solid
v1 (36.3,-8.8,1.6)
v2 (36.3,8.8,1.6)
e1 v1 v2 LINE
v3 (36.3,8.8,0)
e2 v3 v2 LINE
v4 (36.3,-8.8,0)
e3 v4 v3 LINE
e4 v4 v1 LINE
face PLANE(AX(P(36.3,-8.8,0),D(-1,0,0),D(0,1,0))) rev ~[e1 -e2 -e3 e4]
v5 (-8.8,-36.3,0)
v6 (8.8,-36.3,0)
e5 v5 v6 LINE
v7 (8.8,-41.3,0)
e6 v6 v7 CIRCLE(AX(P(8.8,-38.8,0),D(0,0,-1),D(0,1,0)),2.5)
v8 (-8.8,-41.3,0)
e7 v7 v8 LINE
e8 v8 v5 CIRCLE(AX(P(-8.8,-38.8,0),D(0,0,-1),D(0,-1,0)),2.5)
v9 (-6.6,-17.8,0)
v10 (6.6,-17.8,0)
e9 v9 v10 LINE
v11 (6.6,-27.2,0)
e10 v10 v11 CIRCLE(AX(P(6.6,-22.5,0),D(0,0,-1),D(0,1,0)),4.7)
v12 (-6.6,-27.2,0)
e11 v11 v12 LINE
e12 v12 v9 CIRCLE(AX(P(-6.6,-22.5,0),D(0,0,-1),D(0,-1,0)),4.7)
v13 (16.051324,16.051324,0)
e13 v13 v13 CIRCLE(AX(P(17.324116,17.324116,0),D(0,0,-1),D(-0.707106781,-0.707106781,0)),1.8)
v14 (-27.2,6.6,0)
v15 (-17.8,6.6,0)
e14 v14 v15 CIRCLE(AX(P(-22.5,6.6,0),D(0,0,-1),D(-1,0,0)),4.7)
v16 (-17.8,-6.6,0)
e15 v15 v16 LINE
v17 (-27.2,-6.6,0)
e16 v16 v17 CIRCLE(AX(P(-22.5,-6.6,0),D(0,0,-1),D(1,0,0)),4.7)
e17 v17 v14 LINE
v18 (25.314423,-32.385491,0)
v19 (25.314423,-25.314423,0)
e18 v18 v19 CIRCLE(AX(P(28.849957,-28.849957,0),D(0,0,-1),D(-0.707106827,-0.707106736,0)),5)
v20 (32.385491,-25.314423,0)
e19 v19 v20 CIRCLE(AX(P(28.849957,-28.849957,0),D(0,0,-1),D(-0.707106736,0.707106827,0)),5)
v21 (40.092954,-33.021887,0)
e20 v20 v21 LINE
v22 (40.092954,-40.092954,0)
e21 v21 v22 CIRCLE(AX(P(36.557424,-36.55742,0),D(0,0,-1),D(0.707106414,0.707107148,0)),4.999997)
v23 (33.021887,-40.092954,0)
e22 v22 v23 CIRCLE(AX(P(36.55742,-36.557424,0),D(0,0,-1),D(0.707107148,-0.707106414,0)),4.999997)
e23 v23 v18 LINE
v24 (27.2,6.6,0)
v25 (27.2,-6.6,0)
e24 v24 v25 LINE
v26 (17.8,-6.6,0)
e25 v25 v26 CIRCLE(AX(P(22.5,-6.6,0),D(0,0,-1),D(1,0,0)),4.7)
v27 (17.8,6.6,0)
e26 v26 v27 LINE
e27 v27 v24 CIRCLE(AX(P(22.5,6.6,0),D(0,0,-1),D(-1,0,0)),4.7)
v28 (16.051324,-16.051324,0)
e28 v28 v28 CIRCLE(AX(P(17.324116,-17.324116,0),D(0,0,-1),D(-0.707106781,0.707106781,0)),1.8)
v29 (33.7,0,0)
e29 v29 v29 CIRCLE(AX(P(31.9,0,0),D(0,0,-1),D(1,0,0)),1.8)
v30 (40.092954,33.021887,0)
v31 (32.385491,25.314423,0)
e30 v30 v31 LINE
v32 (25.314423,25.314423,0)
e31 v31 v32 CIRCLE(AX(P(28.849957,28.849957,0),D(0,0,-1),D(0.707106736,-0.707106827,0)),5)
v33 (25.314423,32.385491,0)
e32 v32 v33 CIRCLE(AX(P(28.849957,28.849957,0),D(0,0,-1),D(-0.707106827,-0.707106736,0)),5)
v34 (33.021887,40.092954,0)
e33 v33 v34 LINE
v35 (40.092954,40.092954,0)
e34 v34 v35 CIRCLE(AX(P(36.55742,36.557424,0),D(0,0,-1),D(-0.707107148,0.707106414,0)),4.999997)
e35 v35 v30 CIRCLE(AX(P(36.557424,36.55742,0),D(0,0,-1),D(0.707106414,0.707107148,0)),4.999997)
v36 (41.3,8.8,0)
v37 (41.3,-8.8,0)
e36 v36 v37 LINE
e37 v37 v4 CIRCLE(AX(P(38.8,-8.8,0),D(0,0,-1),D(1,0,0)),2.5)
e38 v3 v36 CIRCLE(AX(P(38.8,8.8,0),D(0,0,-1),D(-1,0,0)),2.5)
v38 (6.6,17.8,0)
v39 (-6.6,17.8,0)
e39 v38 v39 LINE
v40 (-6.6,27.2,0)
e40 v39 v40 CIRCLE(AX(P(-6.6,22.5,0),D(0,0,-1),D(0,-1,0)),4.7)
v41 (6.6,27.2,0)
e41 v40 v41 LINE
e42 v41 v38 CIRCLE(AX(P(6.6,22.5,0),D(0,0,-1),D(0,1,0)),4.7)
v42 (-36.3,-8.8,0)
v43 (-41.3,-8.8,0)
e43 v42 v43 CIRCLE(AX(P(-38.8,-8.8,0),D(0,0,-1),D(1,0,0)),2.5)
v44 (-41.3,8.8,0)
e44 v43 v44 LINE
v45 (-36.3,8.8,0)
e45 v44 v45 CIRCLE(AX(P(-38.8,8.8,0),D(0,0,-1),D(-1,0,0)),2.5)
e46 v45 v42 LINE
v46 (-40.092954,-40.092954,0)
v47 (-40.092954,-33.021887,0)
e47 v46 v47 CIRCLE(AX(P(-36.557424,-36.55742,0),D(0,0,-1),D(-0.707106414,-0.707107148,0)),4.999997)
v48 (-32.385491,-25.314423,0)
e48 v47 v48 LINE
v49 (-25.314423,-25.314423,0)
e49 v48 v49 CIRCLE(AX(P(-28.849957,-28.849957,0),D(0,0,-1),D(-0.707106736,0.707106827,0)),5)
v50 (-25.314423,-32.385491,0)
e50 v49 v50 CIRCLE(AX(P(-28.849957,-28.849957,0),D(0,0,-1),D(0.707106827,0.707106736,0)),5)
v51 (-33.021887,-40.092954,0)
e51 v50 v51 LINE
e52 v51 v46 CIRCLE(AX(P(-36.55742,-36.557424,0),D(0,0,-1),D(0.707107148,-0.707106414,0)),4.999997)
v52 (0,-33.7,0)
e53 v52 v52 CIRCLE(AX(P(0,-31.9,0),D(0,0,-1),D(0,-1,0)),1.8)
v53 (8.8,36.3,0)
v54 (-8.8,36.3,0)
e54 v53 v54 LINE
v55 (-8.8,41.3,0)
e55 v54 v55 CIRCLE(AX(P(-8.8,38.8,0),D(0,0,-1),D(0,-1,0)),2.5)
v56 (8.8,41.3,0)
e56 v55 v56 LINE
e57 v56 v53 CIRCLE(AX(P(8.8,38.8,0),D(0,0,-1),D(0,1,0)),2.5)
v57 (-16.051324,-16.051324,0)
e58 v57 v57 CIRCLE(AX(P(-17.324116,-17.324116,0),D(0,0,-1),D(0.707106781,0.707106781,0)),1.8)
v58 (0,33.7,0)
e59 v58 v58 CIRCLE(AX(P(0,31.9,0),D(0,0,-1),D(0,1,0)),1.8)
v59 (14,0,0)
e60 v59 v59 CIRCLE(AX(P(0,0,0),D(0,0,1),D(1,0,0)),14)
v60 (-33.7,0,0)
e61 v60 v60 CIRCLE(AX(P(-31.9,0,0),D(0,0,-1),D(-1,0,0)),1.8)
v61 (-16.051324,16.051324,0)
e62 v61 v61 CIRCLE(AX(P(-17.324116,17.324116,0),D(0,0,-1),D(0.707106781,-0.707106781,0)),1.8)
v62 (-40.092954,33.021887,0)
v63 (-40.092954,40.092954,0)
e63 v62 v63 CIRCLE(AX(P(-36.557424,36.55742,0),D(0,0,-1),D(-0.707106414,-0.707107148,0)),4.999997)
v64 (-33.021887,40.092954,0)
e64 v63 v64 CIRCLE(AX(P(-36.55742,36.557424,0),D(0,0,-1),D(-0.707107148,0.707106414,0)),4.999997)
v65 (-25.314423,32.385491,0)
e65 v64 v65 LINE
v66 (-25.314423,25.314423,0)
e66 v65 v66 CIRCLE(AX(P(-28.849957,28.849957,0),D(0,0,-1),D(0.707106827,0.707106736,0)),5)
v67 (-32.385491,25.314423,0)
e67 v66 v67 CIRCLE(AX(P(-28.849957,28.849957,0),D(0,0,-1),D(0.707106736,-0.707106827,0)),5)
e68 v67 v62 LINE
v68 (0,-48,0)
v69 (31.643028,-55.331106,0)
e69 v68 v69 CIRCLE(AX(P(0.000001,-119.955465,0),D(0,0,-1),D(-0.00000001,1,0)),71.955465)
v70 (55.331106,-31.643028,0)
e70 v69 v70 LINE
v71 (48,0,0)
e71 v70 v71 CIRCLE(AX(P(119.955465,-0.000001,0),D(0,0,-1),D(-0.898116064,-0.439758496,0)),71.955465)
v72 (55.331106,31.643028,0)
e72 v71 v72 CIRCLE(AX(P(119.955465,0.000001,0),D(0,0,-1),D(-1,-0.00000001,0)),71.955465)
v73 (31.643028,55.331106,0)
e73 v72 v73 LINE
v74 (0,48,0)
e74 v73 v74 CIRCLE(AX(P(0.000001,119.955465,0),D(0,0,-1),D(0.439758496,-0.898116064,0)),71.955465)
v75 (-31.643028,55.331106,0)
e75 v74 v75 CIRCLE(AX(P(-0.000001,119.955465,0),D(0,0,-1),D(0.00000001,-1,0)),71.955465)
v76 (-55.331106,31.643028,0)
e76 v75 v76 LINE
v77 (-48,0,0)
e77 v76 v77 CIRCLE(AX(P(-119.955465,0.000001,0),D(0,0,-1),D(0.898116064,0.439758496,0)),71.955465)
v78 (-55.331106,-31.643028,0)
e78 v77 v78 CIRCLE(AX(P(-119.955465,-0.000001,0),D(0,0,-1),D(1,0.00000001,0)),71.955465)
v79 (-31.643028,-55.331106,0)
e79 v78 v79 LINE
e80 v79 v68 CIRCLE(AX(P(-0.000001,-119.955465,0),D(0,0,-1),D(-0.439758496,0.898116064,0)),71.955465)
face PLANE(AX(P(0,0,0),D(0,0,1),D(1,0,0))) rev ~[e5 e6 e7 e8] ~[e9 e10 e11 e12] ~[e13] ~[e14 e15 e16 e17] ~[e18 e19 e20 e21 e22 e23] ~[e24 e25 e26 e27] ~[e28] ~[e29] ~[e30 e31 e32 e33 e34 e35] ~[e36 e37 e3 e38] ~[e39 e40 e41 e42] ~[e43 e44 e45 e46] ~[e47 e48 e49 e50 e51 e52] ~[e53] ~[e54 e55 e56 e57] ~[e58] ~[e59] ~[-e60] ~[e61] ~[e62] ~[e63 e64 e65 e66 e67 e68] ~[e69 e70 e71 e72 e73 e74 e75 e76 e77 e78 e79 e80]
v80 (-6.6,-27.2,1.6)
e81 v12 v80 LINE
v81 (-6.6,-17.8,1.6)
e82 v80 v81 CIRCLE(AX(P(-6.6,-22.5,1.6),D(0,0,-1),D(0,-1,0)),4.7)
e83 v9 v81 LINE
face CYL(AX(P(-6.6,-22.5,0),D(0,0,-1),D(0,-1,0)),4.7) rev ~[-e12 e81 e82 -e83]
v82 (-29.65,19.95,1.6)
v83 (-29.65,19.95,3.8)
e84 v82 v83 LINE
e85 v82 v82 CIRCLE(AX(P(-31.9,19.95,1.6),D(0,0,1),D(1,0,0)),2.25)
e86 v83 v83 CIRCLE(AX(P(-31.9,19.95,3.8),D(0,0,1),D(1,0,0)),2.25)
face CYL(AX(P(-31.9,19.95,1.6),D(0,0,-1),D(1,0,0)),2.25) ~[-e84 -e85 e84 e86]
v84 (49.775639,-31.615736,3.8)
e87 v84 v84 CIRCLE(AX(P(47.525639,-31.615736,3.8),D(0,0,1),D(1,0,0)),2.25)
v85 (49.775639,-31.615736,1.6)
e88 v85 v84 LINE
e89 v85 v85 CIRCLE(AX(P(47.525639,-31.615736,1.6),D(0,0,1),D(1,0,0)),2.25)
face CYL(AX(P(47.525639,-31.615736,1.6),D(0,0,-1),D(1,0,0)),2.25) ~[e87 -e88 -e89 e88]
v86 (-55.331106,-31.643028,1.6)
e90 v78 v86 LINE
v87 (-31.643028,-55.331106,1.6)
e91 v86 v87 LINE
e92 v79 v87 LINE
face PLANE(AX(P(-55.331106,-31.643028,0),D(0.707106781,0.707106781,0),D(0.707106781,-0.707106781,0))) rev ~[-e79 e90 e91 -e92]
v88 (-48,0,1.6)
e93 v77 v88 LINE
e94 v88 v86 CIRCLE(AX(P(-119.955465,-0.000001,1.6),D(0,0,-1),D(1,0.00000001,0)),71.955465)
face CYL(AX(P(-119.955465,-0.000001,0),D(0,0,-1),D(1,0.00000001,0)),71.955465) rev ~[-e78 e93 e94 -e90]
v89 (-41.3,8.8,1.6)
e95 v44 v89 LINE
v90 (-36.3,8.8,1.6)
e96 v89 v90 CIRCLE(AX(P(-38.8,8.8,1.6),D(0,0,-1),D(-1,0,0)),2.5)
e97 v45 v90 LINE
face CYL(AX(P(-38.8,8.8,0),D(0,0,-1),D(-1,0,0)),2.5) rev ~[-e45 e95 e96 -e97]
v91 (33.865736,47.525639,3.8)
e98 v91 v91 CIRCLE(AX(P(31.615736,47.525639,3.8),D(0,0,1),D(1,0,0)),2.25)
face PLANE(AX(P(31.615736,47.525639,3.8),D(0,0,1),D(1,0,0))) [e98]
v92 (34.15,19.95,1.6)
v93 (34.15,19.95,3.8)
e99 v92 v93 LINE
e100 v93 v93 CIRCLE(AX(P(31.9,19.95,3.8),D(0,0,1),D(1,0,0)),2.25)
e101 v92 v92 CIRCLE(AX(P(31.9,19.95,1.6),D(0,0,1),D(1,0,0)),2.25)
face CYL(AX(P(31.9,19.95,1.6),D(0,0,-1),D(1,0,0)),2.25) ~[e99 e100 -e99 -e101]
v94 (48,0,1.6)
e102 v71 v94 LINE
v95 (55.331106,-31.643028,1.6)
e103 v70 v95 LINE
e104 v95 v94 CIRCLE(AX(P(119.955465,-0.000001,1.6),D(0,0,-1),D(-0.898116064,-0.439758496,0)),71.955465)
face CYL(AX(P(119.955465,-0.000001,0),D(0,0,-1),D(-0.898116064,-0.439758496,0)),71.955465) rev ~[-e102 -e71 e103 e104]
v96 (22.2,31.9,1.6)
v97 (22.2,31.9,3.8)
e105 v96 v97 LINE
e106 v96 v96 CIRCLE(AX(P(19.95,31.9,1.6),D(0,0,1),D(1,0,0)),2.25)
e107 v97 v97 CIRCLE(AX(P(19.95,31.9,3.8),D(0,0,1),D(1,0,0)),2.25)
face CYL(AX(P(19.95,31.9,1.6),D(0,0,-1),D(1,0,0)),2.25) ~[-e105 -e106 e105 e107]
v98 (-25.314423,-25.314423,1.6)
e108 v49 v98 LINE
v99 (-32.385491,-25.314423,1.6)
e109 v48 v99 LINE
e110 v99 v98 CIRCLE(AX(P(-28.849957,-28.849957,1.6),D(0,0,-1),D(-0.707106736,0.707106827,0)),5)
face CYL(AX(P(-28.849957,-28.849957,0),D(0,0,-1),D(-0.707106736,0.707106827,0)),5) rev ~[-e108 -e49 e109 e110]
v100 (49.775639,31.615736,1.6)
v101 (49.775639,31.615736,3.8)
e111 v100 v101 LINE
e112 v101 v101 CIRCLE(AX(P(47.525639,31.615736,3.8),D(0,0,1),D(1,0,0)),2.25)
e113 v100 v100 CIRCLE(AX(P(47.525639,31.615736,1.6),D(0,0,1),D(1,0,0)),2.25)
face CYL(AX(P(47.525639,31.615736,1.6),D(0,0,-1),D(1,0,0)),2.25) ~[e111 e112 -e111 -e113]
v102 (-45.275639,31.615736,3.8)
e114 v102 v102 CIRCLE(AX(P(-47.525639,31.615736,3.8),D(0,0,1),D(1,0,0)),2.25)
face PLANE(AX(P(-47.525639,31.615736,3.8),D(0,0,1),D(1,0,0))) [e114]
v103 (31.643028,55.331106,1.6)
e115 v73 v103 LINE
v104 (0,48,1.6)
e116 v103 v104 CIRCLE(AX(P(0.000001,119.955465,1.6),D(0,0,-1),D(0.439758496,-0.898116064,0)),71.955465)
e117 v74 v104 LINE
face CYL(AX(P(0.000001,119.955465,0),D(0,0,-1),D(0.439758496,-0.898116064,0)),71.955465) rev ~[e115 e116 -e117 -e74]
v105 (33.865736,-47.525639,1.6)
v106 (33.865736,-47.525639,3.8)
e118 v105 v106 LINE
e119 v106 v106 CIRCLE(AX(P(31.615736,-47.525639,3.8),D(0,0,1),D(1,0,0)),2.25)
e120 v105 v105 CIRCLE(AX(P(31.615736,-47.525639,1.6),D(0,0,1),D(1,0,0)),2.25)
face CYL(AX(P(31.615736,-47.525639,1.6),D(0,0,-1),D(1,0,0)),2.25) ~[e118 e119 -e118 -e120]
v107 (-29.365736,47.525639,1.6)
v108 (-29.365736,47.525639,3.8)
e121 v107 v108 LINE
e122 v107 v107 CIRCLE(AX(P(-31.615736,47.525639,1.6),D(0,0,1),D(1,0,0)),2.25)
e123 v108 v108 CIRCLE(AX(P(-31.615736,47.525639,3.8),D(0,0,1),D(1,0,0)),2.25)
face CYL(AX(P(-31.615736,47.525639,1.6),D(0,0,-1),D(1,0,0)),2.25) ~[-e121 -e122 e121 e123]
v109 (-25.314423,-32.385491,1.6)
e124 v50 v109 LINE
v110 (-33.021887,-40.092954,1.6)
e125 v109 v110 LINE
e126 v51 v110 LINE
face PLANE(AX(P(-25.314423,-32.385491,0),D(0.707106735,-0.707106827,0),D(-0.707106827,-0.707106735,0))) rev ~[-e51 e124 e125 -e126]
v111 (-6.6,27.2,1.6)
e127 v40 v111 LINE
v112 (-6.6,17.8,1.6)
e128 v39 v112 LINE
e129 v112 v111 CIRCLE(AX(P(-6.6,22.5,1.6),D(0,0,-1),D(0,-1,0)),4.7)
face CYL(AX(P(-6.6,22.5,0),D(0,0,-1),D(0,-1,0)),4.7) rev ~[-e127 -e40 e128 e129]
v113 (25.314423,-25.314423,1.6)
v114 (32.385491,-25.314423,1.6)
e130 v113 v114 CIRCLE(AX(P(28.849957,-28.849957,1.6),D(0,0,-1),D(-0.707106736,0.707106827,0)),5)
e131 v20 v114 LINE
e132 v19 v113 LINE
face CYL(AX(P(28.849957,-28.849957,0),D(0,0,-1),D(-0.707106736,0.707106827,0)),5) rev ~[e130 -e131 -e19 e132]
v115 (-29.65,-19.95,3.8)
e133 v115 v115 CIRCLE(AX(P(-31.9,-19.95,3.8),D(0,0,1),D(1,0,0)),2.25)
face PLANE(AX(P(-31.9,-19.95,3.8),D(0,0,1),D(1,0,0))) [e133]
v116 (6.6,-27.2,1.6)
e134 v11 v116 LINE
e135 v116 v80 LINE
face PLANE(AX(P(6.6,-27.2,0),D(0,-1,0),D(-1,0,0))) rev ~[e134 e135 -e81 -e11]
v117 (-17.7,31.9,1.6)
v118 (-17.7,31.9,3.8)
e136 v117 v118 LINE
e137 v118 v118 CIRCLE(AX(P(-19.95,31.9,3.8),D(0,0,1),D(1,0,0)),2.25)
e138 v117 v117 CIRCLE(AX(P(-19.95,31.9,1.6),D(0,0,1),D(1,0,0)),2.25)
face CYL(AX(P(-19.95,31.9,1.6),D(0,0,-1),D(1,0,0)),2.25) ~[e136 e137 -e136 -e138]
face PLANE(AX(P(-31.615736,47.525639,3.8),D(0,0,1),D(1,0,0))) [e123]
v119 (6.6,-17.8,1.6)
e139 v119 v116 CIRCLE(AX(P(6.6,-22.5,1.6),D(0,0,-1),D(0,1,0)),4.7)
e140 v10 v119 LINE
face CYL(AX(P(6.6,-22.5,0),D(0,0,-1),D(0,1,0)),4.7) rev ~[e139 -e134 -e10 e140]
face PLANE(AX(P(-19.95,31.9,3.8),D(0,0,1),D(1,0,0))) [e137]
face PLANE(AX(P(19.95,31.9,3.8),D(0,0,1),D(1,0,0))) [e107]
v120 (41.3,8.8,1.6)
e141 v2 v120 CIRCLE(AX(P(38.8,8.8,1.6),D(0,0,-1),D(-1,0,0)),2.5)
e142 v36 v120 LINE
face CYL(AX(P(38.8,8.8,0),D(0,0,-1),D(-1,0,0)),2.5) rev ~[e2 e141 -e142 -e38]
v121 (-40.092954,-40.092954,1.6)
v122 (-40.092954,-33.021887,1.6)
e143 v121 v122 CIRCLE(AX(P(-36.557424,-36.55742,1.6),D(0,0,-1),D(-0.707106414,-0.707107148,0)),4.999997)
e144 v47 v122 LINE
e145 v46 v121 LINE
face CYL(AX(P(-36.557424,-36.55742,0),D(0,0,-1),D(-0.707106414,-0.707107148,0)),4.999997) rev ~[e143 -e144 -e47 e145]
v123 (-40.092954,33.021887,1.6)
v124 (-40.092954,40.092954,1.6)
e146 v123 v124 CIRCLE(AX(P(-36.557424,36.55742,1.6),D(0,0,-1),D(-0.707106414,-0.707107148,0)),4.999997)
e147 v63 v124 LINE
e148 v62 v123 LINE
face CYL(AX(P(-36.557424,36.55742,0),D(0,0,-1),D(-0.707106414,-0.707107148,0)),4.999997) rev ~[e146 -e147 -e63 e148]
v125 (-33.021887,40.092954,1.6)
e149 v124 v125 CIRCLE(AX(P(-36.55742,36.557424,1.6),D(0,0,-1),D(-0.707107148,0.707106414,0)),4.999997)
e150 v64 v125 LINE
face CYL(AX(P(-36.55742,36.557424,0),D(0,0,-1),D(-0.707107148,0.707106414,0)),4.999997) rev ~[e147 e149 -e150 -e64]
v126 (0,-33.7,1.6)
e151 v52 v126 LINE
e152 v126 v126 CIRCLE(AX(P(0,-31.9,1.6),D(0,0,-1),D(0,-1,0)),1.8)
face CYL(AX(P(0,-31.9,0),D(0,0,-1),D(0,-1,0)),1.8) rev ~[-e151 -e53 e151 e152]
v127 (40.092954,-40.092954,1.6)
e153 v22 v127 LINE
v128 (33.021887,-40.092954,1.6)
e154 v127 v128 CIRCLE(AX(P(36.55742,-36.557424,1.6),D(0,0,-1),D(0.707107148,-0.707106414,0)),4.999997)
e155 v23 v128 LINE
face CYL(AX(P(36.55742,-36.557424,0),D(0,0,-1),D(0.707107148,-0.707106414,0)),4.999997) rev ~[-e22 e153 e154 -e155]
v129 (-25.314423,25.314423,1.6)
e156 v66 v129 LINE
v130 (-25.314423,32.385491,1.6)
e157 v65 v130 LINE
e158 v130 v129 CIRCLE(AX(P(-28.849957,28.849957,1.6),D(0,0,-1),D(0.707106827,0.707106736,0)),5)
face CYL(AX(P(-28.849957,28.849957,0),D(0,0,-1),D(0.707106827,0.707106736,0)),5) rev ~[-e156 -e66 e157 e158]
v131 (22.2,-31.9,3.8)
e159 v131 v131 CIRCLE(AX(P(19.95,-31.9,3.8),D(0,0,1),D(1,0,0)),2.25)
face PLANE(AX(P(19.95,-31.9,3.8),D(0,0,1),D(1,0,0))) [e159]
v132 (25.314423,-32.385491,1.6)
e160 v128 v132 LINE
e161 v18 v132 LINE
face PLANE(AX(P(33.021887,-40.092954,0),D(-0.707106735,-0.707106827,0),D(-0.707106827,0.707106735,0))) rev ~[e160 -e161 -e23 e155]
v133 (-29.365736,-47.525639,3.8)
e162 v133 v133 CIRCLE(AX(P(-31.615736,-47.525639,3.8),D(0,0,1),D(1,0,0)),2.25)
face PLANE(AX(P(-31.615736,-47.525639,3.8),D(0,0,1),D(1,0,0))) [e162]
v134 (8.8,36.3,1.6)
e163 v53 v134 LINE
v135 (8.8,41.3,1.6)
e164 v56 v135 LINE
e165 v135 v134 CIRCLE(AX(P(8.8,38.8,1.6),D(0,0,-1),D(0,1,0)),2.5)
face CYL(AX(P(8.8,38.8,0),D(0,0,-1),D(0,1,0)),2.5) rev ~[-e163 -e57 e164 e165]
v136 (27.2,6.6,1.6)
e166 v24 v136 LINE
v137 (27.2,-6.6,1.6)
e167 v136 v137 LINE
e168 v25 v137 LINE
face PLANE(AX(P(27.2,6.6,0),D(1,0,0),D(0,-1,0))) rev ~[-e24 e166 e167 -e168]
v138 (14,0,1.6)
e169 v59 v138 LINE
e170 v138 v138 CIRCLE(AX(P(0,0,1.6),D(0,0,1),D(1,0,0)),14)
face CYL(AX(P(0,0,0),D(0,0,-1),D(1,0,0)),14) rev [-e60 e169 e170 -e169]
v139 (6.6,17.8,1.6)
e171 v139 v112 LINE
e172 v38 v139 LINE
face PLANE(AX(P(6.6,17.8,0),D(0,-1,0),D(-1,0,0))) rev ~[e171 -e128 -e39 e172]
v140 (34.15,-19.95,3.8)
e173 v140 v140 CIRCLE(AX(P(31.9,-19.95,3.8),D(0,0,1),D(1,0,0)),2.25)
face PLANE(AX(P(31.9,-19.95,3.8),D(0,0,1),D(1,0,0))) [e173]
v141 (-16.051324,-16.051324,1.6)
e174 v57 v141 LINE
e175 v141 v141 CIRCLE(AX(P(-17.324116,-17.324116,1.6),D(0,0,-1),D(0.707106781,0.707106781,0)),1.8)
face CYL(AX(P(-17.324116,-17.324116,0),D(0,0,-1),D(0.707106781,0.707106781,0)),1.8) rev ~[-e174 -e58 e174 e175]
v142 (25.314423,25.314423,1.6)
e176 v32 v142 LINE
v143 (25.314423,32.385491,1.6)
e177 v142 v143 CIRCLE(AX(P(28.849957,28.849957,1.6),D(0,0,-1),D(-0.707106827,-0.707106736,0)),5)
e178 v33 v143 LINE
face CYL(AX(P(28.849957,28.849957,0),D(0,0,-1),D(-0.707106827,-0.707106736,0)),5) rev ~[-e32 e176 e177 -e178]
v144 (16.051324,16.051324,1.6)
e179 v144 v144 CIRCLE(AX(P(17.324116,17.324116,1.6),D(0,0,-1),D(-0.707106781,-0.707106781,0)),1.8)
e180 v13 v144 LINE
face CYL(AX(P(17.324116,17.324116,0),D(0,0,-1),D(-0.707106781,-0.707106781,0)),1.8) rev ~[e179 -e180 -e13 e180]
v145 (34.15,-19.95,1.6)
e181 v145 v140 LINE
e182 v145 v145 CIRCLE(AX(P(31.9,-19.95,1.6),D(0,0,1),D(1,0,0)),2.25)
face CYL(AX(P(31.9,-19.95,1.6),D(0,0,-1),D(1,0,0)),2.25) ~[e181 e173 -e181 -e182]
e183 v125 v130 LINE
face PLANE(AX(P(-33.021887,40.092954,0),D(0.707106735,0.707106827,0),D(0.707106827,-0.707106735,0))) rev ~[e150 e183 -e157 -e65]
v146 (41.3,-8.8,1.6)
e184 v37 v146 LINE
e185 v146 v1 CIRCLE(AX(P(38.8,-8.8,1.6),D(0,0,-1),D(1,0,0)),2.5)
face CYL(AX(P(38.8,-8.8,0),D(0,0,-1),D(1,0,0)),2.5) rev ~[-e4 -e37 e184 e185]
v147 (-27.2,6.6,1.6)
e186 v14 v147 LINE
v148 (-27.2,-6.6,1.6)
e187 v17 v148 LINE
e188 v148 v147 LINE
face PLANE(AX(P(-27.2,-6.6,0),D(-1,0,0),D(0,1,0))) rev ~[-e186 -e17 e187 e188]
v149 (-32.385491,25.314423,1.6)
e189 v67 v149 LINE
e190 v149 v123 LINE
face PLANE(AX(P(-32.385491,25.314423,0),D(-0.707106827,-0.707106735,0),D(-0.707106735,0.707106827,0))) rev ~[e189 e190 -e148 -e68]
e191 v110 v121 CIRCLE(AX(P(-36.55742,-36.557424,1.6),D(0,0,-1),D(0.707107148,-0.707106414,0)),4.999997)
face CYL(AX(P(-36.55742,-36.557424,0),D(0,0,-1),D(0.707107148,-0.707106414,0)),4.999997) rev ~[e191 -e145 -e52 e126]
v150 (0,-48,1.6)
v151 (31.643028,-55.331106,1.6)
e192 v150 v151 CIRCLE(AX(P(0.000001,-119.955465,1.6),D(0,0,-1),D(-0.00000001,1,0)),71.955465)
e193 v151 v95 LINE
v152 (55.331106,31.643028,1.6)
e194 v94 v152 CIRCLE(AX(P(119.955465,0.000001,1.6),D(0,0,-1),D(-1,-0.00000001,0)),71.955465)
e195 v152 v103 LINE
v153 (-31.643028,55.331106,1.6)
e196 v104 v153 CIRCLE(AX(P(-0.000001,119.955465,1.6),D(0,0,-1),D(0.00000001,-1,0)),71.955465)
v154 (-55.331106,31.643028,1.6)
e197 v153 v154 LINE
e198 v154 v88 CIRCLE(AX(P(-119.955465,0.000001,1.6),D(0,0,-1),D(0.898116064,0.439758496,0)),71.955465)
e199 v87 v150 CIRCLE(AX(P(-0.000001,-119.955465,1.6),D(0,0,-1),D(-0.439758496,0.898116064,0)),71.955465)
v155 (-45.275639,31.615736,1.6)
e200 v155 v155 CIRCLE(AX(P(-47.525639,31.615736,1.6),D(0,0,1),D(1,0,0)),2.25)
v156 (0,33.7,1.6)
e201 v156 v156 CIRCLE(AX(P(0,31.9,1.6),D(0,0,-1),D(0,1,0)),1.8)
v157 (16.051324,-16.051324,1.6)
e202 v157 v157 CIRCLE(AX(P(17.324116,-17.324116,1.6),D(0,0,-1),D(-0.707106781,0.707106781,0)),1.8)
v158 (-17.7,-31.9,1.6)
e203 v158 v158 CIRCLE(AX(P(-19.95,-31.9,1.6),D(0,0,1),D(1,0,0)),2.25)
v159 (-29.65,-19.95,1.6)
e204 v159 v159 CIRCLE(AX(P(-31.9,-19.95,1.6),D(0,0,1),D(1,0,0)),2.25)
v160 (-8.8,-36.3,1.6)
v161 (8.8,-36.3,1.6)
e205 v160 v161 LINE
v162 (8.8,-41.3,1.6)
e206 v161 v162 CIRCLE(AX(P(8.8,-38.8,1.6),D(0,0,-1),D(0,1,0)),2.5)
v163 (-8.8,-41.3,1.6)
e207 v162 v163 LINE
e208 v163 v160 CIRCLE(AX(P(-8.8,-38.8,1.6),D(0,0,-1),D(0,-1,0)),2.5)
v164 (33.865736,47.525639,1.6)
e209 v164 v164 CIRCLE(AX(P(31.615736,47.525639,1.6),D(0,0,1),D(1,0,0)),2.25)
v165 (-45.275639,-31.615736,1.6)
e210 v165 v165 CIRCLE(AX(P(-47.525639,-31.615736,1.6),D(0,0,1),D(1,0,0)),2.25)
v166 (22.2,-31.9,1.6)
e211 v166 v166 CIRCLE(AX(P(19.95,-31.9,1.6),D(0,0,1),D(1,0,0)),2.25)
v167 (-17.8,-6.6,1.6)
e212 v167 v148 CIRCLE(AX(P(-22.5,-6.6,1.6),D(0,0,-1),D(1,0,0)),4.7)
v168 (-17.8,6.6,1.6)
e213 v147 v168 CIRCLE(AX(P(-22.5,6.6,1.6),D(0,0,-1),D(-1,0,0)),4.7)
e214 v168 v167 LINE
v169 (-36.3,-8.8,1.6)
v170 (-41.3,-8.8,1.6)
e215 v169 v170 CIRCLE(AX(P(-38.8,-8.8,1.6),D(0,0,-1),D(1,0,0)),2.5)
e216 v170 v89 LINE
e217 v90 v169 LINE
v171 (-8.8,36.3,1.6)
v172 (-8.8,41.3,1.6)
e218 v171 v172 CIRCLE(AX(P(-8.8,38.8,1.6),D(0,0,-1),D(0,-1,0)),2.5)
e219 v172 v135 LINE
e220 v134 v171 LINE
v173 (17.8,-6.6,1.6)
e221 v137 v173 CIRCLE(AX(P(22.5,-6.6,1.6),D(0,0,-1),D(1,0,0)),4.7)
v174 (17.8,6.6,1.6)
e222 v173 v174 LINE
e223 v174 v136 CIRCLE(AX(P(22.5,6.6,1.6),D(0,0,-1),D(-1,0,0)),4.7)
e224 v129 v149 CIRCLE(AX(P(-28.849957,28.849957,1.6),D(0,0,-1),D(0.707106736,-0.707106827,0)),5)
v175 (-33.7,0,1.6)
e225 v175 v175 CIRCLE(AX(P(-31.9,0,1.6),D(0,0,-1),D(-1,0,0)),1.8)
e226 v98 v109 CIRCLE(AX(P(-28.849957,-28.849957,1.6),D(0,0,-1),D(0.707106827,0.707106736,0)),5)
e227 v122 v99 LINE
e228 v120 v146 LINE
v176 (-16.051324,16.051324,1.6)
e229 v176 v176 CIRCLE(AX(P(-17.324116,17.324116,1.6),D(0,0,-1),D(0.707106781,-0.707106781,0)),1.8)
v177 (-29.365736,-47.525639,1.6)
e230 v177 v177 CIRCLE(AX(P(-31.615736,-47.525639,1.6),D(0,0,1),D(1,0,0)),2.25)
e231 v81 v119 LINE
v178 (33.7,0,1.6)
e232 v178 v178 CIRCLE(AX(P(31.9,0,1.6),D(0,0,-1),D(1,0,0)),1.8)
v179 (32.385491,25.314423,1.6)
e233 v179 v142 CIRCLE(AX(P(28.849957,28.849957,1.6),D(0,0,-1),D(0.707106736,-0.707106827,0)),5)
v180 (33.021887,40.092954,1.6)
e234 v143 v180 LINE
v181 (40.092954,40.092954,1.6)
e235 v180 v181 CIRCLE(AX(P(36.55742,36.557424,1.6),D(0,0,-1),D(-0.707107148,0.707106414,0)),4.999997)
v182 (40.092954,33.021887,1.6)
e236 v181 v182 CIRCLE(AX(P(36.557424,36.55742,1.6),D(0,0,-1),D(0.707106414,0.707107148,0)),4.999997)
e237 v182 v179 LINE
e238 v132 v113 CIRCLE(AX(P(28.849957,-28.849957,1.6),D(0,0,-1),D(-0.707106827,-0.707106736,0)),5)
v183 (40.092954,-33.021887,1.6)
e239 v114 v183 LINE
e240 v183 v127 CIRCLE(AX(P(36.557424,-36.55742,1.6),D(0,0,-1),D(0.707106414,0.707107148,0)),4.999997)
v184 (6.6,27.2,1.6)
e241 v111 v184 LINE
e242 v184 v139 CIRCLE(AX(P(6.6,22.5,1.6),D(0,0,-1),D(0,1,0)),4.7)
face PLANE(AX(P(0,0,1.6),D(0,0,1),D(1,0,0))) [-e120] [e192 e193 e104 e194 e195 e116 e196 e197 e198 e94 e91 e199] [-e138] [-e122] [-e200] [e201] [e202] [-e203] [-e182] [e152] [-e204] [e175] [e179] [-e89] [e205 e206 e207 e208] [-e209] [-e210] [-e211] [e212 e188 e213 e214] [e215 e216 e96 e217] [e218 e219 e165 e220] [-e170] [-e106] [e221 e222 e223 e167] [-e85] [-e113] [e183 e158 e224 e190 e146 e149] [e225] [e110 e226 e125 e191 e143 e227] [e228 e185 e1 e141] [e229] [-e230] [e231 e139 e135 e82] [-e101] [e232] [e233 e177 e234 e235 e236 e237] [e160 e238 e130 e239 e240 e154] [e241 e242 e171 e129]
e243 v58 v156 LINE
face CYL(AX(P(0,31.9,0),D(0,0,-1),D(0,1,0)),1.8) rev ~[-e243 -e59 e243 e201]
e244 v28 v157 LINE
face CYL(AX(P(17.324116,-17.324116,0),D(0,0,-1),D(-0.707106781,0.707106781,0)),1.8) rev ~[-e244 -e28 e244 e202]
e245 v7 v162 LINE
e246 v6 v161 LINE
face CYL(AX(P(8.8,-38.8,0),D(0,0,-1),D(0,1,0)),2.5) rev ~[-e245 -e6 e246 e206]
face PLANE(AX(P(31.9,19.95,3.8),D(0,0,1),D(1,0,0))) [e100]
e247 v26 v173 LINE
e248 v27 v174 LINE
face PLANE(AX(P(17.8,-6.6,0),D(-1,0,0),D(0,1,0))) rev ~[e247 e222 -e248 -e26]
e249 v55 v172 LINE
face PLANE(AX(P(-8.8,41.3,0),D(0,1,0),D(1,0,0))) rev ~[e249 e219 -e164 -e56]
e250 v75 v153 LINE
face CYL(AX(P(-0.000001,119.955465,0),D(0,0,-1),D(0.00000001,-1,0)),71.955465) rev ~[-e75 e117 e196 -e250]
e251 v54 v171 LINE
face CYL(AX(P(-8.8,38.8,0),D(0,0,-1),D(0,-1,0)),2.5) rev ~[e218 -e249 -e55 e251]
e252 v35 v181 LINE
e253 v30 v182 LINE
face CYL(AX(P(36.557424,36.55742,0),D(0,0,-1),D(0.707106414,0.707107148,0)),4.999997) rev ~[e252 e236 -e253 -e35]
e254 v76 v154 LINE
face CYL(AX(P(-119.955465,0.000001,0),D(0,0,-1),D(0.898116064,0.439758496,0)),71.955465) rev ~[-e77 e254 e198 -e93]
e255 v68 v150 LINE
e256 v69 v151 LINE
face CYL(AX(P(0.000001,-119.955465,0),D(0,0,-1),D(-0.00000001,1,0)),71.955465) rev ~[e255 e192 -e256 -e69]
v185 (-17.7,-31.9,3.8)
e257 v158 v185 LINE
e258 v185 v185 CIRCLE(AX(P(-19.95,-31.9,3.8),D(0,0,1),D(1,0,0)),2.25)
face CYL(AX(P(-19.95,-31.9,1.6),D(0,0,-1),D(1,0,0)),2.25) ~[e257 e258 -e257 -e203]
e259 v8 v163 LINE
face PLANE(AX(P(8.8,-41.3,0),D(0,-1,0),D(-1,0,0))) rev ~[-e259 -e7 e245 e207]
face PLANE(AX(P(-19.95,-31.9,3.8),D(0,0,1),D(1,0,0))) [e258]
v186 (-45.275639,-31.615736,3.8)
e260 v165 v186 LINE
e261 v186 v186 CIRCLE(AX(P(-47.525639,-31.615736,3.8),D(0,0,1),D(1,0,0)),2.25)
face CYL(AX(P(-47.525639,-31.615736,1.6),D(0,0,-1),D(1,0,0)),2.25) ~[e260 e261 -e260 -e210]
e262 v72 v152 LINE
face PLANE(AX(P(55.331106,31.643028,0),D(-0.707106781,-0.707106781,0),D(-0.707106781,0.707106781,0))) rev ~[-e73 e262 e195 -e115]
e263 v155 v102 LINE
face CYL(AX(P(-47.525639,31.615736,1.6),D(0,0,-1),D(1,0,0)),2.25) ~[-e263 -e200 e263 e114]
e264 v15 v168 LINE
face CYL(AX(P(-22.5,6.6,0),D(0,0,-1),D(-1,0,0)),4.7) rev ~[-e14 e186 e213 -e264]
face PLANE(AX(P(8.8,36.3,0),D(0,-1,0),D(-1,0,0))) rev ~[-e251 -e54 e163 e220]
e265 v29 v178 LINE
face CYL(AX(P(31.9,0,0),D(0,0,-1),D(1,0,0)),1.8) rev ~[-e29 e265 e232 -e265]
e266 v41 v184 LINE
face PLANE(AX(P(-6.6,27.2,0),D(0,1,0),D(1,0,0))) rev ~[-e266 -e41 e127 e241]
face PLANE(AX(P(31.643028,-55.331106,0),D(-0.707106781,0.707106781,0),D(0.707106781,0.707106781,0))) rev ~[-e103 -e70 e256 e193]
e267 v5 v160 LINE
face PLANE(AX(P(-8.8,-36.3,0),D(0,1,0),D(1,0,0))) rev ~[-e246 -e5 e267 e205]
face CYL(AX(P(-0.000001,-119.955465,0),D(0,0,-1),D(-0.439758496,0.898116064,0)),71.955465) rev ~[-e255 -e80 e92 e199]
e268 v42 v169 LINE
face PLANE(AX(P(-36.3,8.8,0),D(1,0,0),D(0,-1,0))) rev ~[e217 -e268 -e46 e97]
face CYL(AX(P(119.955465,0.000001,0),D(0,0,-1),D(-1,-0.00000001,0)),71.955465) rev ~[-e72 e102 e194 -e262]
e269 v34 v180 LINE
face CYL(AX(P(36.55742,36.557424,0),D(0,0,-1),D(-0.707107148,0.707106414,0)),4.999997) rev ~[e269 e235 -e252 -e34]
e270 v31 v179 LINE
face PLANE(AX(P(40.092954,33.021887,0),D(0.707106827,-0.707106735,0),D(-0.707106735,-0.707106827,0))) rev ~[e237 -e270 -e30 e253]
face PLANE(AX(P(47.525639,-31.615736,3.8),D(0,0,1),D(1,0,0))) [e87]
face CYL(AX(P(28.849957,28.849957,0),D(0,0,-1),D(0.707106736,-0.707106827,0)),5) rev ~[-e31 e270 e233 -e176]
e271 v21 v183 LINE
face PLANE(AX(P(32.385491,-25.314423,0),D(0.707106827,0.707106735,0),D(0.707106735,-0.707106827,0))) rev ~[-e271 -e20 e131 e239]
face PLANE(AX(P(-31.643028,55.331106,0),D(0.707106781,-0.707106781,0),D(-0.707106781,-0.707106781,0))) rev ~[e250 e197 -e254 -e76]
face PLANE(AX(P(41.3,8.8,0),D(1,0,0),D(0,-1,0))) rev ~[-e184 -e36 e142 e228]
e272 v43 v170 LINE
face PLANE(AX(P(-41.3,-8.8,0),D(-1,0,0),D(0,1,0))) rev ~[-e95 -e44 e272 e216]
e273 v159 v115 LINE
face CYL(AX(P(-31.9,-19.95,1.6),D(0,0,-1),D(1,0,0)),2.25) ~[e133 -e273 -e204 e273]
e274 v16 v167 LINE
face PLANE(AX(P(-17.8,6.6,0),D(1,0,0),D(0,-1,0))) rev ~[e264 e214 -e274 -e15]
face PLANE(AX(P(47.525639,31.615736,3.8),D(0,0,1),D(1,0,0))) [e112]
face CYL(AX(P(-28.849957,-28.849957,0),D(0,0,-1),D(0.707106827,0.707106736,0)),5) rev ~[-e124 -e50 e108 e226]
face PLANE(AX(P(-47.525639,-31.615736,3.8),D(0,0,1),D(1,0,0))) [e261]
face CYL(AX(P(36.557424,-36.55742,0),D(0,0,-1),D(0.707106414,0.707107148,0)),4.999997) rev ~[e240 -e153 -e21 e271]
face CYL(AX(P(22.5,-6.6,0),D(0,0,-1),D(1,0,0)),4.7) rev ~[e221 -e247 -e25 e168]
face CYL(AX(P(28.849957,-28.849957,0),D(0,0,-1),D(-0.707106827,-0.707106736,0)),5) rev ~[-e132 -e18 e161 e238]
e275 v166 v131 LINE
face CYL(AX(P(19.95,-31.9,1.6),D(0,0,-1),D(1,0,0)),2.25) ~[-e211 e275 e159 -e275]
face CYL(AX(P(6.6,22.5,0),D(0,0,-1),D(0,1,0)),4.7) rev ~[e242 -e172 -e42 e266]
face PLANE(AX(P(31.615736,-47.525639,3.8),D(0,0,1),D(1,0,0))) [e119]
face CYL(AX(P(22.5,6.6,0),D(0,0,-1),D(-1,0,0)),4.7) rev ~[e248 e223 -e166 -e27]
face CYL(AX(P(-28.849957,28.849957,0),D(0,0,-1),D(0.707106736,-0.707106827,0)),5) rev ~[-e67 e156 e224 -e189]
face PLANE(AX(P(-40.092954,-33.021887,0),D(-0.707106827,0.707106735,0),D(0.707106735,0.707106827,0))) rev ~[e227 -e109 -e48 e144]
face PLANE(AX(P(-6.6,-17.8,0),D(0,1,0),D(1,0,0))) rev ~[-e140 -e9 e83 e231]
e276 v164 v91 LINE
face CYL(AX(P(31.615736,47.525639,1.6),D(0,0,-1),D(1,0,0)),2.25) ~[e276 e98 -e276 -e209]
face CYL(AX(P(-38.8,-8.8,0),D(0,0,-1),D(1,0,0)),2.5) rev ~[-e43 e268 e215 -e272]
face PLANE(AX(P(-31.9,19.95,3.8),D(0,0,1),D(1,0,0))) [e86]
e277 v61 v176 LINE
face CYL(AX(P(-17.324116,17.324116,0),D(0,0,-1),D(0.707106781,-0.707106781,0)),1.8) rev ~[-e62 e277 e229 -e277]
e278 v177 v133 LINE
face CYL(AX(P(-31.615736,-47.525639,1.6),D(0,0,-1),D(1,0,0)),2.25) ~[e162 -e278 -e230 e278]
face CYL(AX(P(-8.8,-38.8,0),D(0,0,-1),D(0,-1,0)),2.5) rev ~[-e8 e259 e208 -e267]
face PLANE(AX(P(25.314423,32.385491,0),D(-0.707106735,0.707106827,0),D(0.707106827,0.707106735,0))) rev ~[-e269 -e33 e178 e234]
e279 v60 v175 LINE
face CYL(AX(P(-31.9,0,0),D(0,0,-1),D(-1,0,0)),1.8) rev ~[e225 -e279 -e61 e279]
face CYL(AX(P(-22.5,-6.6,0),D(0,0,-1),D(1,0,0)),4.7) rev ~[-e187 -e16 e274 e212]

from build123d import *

# Parameters (mm, degrees)
F0_R     = 14
F1_DEPTH = 1.6
F2_R     = 2.25
F3_DEPTH = 2.2


with BuildPart() as f1:
    # F0 (on Top) → F1 (new body)
    with BuildSketch(Plane.XY):
        with BuildLine():
            Line((55.331106, 31.643028), (43.487067, 43.487067))
            Line((43.487067, 43.487067), (31.643028, 55.331106))
            ThreePointArc((31.643028, 55.331106), (16.240585, 49.856732), (0, 48))
            ThreePointArc((0, 48), (-16.240585, 49.856732), (-31.643028, 55.331106))
            Line((-31.643028, 55.331106), (-43.487067, 43.487067))
            Line((-43.487067, 43.487067), (-55.331106, 31.643028))
            ThreePointArc((-55.331106, 31.643028), (-49.856732, 16.240585), (-48, 0))
            ThreePointArc((-48, 0), (-49.856732, -16.240585), (-55.331106, -31.643028))
            Line((-55.331106, -31.643028), (-43.487067, -43.487067))
            Line((-43.487067, -43.487067), (-31.643028, -55.331106))
            ThreePointArc((-31.643028, -55.331106), (-16.240585, -49.856732), (0, -48))
            ThreePointArc((0, -48), (16.240585, -49.856732), (31.643028, -55.331106))
            Line((31.643028, -55.331106), (43.487067, -43.487067))
            Line((43.487067, -43.487067), (55.331106, -31.643028))
            ThreePointArc((55.331106, -31.643028), (49.856732, -16.240585), (48, 0))
            ThreePointArc((48, 0), (49.856732, 16.240585), (55.331106, 31.643028))
        make_face()
        with BuildLine():
            ThreePointArc((-40.092954, -40.092954), (-41.557421, -36.557421), (-40.092954, -33.021887))
            Line((-40.092954, -33.021887), (-32.385491, -25.314423))
            ThreePointArc((-32.385491, -25.314423), (-28.849957, -23.849957), (-25.314423, -25.314423))
            ThreePointArc((-25.314423, -25.314423), (-23.849957, -28.849957), (-25.314423, -32.385491))
            Line((-25.314423, -32.385491), (-33.021887, -40.092954))
            ThreePointArc((-33.021887, -40.092954), (-36.557421, -41.557421), (-40.092954, -40.092954))
        make_face(mode=Mode.SUBTRACT)
        with BuildLine():
            Line((8.8, -41.3), (0, -41.3))
            Line((0, -41.3), (-8.8, -41.3))
            ThreePointArc((-8.8, -41.3), (-11.3, -38.8), (-8.8, -36.3))
            Line((-8.8, -36.3), (0, -36.3))
            Line((0, -36.3), (8.8, -36.3))
            ThreePointArc((8.8, -36.3), (11.3, -38.8), (8.8, -41.3))
        make_face(mode=Mode.SUBTRACT)
        with BuildLine():
            ThreePointArc((0, -30.1), (1.8, -31.9), (0, -33.7))
            ThreePointArc((0, -33.7), (-1.8, -31.9), (0, -30.1))
        make_face(mode=Mode.SUBTRACT)
        with BuildLine():
            ThreePointArc((-18.596908, -18.596908), (-18.596908, -16.051324), (-16.051324, -16.051324))
            ThreePointArc((-16.051324, -16.051324), (-16.051324, -18.596908), (-18.596908, -18.596908))
        make_face(mode=Mode.SUBTRACT)
        with BuildLine():
            Line((6.6, -27.2), (0, -27.2))
            Line((0, -27.2), (-6.6, -27.2))
            ThreePointArc((-6.6, -27.2), (-11.3, -22.5), (-6.6, -17.8))
            Line((-6.6, -17.8), (0, -17.8))
            Line((0, -17.8), (6.6, -17.8))
            ThreePointArc((6.6, -17.8), (11.3, -22.5), (6.6, -27.2))
        make_face(mode=Mode.SUBTRACT)
        with BuildLine():
            ThreePointArc((25.314423, -25.314423), (28.849957, -23.849957), (32.385491, -25.314423))
            Line((32.385491, -25.314423), (40.092954, -33.021887))
            ThreePointArc((40.092954, -33.021887), (41.557421, -36.557421), (40.092954, -40.092954))
            ThreePointArc((40.092954, -40.092954), (36.557421, -41.557421), (33.021887, -40.092954))
            Line((33.021887, -40.092954), (25.314423, -32.385491))
            ThreePointArc((25.314423, -32.385491), (23.849957, -28.849957), (25.314423, -25.314423))
        make_face(mode=Mode.SUBTRACT)
        with BuildLine():
            ThreePointArc((18.596908, -18.596908), (16.051324, -18.596908), (16.051324, -16.051324))
            ThreePointArc((16.051324, -16.051324), (18.596908, -16.051324), (18.596908, -18.596908))
        make_face(mode=Mode.SUBTRACT)
        with BuildLine():
            Line((-36.3, 8.8), (-36.3, 0))
            Line((-36.3, 0), (-36.3, -8.8))
            ThreePointArc((-36.3, -8.8), (-38.8, -11.3), (-41.3, -8.8))
            Line((-41.3, -8.8), (-41.3, 0))
            Line((-41.3, 0), (-41.3, 8.8))
            ThreePointArc((-41.3, 8.8), (-38.8, 11.3), (-36.3, 8.8))
        make_face(mode=Mode.SUBTRACT)
        with BuildLine():
            ThreePointArc((-30.1, 0), (-31.9, -1.8), (-33.7, 0))
            ThreePointArc((-33.7, 0), (-31.9, 1.8), (-30.1, 0))
        make_face(mode=Mode.SUBTRACT)
        with BuildLine():
            ThreePointArc((-17.8, -6.6), (-22.5, -11.3), (-27.2, -6.6))
            Line((-27.2, -6.6), (-27.2, 0))
            Line((-27.2, 0), (-27.2, 6.6))
            ThreePointArc((-27.2, 6.6), (-22.5, 11.3), (-17.8, 6.6))
            Line((-17.8, 6.6), (-17.8, 0))
            Line((-17.8, 0), (-17.8, -6.6))
        make_face(mode=Mode.SUBTRACT)
        Circle(F0_R, mode=Mode.SUBTRACT)
        with BuildLine():
            ThreePointArc((-18.596908, 18.596908), (-16.051324, 18.596908), (-16.051324, 16.051324))
            ThreePointArc((-16.051324, 16.051324), (-18.596908, 16.051324), (-18.596908, 18.596908))
        make_face(mode=Mode.SUBTRACT)
        with BuildLine():
            Line((0, 27.2), (6.6, 27.2))
            ThreePointArc((6.6, 27.2), (11.3, 22.5), (6.6, 17.8))
            Line((6.6, 17.8), (0, 17.8))
            Line((0, 17.8), (-6.6, 17.8))
            ThreePointArc((-6.6, 17.8), (-11.3, 22.5), (-6.6, 27.2))
            Line((-6.6, 27.2), (0, 27.2))
        make_face(mode=Mode.SUBTRACT)
        with BuildLine():
            Line((-33.021887, 40.092954), (-25.314423, 32.385491))
            ThreePointArc((-25.314423, 32.385491), (-23.849957, 28.849957), (-25.314423, 25.314423))
            ThreePointArc((-25.314423, 25.314423), (-28.849957, 23.849957), (-32.385491, 25.314423))
            Line((-32.385491, 25.314423), (-40.092954, 33.021887))
            ThreePointArc((-40.092954, 33.021887), (-41.557421, 36.557421), (-40.092954, 40.092954))
            ThreePointArc((-40.092954, 40.092954), (-36.557421, 41.557421), (-33.021887, 40.092954))
        make_face(mode=Mode.SUBTRACT)
        with BuildLine():
            ThreePointArc((0, 30.1), (-1.8, 31.9), (0, 33.7))
            ThreePointArc((0, 33.7), (1.8, 31.9), (0, 30.1))
        make_face(mode=Mode.SUBTRACT)
        with BuildLine():
            Line((8.8, 36.3), (0, 36.3))
            Line((0, 36.3), (-8.8, 36.3))
            ThreePointArc((-8.8, 36.3), (-11.3, 38.8), (-8.8, 41.3))
            Line((-8.8, 41.3), (0, 41.3))
            Line((0, 41.3), (8.8, 41.3))
            ThreePointArc((8.8, 41.3), (11.3, 38.8), (8.8, 36.3))
        make_face(mode=Mode.SUBTRACT)
        with BuildLine():
            Line((17.8, -6.6), (17.8, 0))
            Line((17.8, 0), (17.8, 6.6))
            ThreePointArc((17.8, 6.6), (22.5, 11.3), (27.2, 6.6))
            Line((27.2, 6.6), (27.2, 0))
            Line((27.2, 0), (27.2, -6.6))
            ThreePointArc((27.2, -6.6), (22.5, -11.3), (17.8, -6.6))
        make_face(mode=Mode.SUBTRACT)
        with BuildLine():
            ThreePointArc((18.596908, 18.596908), (18.596908, 16.051324), (16.051324, 16.051324))
            ThreePointArc((16.051324, 16.051324), (16.051324, 18.596908), (18.596908, 18.596908))
        make_face(mode=Mode.SUBTRACT)
        with BuildLine():
            ThreePointArc((30.1, 0), (31.9, 1.8), (33.7, 0))
            ThreePointArc((33.7, 0), (31.9, -1.8), (30.1, 0))
        make_face(mode=Mode.SUBTRACT)
        with BuildLine():
            Line((36.3, -8.8), (36.3, 0))
            Line((36.3, 0), (36.3, 8.8))
            ThreePointArc((36.3, 8.8), (38.8, 11.3), (41.3, 8.8))
            Line((41.3, 8.8), (41.3, 0))
            Line((41.3, 0), (41.3, -8.8))
            ThreePointArc((41.3, -8.8), (38.8, -11.3), (36.3, -8.8))
        make_face(mode=Mode.SUBTRACT)
        with BuildLine():
            Line((40.092954, 33.021887), (32.385491, 25.314423))
            ThreePointArc((32.385491, 25.314423), (28.849957, 23.849957), (25.314423, 25.314423))
            ThreePointArc((25.314423, 25.314423), (23.849957, 28.849957), (25.314423, 32.385491))
            Line((25.314423, 32.385491), (33.021887, 40.092954))
            ThreePointArc((33.021887, 40.092954), (36.557421, 41.557421), (40.092954, 40.092954))
            ThreePointArc((40.092954, 40.092954), (41.557421, 36.557421), (40.092954, 33.021887))
        make_face(mode=Mode.SUBTRACT)
    extrude(amount=F1_DEPTH)

    # F2 (on face) → F3 (join)
    with BuildSketch(Plane.XY.offset(1.6)):
        with Locations((31.9, 19.95)):
            Circle(F2_R)
        with Locations((47.525639, 31.615736)):
            Circle(F2_R)
        with Locations((31.615736, 47.525639)):
            Circle(F2_R)
        with Locations((19.95, 31.9)):
            Circle(F2_R)
        with Locations((47.525639, -31.615736)):
            Circle(F2_R)
        with Locations((31.9, -19.95)):
            Circle(F2_R)
        with Locations((19.95, -31.9)):
            Circle(F2_R)
        with Locations((31.615736, -47.525639)):
            Circle(F2_R)
        with Locations((-31.9, -19.95)):
            Circle(F2_R)
        with Locations((-31.9, 19.95)):
            Circle(F2_R)
        with Locations((-47.525639, -31.615736)):
            Circle(F2_R)
        with Locations((-31.615736, 47.525639)):
            Circle(F2_R)
        with Locations((-47.525639, 31.615736)):
            Circle(F2_R)
        with Locations((-31.615736, -47.525639)):
            Circle(F2_R)
        with Locations((-19.95, 31.9)):
            Circle(F2_R)
        with Locations((-19.95, -31.9)):
            Circle(F2_R)
    extrude(amount=F3_DEPTH)


solid = f1.part
